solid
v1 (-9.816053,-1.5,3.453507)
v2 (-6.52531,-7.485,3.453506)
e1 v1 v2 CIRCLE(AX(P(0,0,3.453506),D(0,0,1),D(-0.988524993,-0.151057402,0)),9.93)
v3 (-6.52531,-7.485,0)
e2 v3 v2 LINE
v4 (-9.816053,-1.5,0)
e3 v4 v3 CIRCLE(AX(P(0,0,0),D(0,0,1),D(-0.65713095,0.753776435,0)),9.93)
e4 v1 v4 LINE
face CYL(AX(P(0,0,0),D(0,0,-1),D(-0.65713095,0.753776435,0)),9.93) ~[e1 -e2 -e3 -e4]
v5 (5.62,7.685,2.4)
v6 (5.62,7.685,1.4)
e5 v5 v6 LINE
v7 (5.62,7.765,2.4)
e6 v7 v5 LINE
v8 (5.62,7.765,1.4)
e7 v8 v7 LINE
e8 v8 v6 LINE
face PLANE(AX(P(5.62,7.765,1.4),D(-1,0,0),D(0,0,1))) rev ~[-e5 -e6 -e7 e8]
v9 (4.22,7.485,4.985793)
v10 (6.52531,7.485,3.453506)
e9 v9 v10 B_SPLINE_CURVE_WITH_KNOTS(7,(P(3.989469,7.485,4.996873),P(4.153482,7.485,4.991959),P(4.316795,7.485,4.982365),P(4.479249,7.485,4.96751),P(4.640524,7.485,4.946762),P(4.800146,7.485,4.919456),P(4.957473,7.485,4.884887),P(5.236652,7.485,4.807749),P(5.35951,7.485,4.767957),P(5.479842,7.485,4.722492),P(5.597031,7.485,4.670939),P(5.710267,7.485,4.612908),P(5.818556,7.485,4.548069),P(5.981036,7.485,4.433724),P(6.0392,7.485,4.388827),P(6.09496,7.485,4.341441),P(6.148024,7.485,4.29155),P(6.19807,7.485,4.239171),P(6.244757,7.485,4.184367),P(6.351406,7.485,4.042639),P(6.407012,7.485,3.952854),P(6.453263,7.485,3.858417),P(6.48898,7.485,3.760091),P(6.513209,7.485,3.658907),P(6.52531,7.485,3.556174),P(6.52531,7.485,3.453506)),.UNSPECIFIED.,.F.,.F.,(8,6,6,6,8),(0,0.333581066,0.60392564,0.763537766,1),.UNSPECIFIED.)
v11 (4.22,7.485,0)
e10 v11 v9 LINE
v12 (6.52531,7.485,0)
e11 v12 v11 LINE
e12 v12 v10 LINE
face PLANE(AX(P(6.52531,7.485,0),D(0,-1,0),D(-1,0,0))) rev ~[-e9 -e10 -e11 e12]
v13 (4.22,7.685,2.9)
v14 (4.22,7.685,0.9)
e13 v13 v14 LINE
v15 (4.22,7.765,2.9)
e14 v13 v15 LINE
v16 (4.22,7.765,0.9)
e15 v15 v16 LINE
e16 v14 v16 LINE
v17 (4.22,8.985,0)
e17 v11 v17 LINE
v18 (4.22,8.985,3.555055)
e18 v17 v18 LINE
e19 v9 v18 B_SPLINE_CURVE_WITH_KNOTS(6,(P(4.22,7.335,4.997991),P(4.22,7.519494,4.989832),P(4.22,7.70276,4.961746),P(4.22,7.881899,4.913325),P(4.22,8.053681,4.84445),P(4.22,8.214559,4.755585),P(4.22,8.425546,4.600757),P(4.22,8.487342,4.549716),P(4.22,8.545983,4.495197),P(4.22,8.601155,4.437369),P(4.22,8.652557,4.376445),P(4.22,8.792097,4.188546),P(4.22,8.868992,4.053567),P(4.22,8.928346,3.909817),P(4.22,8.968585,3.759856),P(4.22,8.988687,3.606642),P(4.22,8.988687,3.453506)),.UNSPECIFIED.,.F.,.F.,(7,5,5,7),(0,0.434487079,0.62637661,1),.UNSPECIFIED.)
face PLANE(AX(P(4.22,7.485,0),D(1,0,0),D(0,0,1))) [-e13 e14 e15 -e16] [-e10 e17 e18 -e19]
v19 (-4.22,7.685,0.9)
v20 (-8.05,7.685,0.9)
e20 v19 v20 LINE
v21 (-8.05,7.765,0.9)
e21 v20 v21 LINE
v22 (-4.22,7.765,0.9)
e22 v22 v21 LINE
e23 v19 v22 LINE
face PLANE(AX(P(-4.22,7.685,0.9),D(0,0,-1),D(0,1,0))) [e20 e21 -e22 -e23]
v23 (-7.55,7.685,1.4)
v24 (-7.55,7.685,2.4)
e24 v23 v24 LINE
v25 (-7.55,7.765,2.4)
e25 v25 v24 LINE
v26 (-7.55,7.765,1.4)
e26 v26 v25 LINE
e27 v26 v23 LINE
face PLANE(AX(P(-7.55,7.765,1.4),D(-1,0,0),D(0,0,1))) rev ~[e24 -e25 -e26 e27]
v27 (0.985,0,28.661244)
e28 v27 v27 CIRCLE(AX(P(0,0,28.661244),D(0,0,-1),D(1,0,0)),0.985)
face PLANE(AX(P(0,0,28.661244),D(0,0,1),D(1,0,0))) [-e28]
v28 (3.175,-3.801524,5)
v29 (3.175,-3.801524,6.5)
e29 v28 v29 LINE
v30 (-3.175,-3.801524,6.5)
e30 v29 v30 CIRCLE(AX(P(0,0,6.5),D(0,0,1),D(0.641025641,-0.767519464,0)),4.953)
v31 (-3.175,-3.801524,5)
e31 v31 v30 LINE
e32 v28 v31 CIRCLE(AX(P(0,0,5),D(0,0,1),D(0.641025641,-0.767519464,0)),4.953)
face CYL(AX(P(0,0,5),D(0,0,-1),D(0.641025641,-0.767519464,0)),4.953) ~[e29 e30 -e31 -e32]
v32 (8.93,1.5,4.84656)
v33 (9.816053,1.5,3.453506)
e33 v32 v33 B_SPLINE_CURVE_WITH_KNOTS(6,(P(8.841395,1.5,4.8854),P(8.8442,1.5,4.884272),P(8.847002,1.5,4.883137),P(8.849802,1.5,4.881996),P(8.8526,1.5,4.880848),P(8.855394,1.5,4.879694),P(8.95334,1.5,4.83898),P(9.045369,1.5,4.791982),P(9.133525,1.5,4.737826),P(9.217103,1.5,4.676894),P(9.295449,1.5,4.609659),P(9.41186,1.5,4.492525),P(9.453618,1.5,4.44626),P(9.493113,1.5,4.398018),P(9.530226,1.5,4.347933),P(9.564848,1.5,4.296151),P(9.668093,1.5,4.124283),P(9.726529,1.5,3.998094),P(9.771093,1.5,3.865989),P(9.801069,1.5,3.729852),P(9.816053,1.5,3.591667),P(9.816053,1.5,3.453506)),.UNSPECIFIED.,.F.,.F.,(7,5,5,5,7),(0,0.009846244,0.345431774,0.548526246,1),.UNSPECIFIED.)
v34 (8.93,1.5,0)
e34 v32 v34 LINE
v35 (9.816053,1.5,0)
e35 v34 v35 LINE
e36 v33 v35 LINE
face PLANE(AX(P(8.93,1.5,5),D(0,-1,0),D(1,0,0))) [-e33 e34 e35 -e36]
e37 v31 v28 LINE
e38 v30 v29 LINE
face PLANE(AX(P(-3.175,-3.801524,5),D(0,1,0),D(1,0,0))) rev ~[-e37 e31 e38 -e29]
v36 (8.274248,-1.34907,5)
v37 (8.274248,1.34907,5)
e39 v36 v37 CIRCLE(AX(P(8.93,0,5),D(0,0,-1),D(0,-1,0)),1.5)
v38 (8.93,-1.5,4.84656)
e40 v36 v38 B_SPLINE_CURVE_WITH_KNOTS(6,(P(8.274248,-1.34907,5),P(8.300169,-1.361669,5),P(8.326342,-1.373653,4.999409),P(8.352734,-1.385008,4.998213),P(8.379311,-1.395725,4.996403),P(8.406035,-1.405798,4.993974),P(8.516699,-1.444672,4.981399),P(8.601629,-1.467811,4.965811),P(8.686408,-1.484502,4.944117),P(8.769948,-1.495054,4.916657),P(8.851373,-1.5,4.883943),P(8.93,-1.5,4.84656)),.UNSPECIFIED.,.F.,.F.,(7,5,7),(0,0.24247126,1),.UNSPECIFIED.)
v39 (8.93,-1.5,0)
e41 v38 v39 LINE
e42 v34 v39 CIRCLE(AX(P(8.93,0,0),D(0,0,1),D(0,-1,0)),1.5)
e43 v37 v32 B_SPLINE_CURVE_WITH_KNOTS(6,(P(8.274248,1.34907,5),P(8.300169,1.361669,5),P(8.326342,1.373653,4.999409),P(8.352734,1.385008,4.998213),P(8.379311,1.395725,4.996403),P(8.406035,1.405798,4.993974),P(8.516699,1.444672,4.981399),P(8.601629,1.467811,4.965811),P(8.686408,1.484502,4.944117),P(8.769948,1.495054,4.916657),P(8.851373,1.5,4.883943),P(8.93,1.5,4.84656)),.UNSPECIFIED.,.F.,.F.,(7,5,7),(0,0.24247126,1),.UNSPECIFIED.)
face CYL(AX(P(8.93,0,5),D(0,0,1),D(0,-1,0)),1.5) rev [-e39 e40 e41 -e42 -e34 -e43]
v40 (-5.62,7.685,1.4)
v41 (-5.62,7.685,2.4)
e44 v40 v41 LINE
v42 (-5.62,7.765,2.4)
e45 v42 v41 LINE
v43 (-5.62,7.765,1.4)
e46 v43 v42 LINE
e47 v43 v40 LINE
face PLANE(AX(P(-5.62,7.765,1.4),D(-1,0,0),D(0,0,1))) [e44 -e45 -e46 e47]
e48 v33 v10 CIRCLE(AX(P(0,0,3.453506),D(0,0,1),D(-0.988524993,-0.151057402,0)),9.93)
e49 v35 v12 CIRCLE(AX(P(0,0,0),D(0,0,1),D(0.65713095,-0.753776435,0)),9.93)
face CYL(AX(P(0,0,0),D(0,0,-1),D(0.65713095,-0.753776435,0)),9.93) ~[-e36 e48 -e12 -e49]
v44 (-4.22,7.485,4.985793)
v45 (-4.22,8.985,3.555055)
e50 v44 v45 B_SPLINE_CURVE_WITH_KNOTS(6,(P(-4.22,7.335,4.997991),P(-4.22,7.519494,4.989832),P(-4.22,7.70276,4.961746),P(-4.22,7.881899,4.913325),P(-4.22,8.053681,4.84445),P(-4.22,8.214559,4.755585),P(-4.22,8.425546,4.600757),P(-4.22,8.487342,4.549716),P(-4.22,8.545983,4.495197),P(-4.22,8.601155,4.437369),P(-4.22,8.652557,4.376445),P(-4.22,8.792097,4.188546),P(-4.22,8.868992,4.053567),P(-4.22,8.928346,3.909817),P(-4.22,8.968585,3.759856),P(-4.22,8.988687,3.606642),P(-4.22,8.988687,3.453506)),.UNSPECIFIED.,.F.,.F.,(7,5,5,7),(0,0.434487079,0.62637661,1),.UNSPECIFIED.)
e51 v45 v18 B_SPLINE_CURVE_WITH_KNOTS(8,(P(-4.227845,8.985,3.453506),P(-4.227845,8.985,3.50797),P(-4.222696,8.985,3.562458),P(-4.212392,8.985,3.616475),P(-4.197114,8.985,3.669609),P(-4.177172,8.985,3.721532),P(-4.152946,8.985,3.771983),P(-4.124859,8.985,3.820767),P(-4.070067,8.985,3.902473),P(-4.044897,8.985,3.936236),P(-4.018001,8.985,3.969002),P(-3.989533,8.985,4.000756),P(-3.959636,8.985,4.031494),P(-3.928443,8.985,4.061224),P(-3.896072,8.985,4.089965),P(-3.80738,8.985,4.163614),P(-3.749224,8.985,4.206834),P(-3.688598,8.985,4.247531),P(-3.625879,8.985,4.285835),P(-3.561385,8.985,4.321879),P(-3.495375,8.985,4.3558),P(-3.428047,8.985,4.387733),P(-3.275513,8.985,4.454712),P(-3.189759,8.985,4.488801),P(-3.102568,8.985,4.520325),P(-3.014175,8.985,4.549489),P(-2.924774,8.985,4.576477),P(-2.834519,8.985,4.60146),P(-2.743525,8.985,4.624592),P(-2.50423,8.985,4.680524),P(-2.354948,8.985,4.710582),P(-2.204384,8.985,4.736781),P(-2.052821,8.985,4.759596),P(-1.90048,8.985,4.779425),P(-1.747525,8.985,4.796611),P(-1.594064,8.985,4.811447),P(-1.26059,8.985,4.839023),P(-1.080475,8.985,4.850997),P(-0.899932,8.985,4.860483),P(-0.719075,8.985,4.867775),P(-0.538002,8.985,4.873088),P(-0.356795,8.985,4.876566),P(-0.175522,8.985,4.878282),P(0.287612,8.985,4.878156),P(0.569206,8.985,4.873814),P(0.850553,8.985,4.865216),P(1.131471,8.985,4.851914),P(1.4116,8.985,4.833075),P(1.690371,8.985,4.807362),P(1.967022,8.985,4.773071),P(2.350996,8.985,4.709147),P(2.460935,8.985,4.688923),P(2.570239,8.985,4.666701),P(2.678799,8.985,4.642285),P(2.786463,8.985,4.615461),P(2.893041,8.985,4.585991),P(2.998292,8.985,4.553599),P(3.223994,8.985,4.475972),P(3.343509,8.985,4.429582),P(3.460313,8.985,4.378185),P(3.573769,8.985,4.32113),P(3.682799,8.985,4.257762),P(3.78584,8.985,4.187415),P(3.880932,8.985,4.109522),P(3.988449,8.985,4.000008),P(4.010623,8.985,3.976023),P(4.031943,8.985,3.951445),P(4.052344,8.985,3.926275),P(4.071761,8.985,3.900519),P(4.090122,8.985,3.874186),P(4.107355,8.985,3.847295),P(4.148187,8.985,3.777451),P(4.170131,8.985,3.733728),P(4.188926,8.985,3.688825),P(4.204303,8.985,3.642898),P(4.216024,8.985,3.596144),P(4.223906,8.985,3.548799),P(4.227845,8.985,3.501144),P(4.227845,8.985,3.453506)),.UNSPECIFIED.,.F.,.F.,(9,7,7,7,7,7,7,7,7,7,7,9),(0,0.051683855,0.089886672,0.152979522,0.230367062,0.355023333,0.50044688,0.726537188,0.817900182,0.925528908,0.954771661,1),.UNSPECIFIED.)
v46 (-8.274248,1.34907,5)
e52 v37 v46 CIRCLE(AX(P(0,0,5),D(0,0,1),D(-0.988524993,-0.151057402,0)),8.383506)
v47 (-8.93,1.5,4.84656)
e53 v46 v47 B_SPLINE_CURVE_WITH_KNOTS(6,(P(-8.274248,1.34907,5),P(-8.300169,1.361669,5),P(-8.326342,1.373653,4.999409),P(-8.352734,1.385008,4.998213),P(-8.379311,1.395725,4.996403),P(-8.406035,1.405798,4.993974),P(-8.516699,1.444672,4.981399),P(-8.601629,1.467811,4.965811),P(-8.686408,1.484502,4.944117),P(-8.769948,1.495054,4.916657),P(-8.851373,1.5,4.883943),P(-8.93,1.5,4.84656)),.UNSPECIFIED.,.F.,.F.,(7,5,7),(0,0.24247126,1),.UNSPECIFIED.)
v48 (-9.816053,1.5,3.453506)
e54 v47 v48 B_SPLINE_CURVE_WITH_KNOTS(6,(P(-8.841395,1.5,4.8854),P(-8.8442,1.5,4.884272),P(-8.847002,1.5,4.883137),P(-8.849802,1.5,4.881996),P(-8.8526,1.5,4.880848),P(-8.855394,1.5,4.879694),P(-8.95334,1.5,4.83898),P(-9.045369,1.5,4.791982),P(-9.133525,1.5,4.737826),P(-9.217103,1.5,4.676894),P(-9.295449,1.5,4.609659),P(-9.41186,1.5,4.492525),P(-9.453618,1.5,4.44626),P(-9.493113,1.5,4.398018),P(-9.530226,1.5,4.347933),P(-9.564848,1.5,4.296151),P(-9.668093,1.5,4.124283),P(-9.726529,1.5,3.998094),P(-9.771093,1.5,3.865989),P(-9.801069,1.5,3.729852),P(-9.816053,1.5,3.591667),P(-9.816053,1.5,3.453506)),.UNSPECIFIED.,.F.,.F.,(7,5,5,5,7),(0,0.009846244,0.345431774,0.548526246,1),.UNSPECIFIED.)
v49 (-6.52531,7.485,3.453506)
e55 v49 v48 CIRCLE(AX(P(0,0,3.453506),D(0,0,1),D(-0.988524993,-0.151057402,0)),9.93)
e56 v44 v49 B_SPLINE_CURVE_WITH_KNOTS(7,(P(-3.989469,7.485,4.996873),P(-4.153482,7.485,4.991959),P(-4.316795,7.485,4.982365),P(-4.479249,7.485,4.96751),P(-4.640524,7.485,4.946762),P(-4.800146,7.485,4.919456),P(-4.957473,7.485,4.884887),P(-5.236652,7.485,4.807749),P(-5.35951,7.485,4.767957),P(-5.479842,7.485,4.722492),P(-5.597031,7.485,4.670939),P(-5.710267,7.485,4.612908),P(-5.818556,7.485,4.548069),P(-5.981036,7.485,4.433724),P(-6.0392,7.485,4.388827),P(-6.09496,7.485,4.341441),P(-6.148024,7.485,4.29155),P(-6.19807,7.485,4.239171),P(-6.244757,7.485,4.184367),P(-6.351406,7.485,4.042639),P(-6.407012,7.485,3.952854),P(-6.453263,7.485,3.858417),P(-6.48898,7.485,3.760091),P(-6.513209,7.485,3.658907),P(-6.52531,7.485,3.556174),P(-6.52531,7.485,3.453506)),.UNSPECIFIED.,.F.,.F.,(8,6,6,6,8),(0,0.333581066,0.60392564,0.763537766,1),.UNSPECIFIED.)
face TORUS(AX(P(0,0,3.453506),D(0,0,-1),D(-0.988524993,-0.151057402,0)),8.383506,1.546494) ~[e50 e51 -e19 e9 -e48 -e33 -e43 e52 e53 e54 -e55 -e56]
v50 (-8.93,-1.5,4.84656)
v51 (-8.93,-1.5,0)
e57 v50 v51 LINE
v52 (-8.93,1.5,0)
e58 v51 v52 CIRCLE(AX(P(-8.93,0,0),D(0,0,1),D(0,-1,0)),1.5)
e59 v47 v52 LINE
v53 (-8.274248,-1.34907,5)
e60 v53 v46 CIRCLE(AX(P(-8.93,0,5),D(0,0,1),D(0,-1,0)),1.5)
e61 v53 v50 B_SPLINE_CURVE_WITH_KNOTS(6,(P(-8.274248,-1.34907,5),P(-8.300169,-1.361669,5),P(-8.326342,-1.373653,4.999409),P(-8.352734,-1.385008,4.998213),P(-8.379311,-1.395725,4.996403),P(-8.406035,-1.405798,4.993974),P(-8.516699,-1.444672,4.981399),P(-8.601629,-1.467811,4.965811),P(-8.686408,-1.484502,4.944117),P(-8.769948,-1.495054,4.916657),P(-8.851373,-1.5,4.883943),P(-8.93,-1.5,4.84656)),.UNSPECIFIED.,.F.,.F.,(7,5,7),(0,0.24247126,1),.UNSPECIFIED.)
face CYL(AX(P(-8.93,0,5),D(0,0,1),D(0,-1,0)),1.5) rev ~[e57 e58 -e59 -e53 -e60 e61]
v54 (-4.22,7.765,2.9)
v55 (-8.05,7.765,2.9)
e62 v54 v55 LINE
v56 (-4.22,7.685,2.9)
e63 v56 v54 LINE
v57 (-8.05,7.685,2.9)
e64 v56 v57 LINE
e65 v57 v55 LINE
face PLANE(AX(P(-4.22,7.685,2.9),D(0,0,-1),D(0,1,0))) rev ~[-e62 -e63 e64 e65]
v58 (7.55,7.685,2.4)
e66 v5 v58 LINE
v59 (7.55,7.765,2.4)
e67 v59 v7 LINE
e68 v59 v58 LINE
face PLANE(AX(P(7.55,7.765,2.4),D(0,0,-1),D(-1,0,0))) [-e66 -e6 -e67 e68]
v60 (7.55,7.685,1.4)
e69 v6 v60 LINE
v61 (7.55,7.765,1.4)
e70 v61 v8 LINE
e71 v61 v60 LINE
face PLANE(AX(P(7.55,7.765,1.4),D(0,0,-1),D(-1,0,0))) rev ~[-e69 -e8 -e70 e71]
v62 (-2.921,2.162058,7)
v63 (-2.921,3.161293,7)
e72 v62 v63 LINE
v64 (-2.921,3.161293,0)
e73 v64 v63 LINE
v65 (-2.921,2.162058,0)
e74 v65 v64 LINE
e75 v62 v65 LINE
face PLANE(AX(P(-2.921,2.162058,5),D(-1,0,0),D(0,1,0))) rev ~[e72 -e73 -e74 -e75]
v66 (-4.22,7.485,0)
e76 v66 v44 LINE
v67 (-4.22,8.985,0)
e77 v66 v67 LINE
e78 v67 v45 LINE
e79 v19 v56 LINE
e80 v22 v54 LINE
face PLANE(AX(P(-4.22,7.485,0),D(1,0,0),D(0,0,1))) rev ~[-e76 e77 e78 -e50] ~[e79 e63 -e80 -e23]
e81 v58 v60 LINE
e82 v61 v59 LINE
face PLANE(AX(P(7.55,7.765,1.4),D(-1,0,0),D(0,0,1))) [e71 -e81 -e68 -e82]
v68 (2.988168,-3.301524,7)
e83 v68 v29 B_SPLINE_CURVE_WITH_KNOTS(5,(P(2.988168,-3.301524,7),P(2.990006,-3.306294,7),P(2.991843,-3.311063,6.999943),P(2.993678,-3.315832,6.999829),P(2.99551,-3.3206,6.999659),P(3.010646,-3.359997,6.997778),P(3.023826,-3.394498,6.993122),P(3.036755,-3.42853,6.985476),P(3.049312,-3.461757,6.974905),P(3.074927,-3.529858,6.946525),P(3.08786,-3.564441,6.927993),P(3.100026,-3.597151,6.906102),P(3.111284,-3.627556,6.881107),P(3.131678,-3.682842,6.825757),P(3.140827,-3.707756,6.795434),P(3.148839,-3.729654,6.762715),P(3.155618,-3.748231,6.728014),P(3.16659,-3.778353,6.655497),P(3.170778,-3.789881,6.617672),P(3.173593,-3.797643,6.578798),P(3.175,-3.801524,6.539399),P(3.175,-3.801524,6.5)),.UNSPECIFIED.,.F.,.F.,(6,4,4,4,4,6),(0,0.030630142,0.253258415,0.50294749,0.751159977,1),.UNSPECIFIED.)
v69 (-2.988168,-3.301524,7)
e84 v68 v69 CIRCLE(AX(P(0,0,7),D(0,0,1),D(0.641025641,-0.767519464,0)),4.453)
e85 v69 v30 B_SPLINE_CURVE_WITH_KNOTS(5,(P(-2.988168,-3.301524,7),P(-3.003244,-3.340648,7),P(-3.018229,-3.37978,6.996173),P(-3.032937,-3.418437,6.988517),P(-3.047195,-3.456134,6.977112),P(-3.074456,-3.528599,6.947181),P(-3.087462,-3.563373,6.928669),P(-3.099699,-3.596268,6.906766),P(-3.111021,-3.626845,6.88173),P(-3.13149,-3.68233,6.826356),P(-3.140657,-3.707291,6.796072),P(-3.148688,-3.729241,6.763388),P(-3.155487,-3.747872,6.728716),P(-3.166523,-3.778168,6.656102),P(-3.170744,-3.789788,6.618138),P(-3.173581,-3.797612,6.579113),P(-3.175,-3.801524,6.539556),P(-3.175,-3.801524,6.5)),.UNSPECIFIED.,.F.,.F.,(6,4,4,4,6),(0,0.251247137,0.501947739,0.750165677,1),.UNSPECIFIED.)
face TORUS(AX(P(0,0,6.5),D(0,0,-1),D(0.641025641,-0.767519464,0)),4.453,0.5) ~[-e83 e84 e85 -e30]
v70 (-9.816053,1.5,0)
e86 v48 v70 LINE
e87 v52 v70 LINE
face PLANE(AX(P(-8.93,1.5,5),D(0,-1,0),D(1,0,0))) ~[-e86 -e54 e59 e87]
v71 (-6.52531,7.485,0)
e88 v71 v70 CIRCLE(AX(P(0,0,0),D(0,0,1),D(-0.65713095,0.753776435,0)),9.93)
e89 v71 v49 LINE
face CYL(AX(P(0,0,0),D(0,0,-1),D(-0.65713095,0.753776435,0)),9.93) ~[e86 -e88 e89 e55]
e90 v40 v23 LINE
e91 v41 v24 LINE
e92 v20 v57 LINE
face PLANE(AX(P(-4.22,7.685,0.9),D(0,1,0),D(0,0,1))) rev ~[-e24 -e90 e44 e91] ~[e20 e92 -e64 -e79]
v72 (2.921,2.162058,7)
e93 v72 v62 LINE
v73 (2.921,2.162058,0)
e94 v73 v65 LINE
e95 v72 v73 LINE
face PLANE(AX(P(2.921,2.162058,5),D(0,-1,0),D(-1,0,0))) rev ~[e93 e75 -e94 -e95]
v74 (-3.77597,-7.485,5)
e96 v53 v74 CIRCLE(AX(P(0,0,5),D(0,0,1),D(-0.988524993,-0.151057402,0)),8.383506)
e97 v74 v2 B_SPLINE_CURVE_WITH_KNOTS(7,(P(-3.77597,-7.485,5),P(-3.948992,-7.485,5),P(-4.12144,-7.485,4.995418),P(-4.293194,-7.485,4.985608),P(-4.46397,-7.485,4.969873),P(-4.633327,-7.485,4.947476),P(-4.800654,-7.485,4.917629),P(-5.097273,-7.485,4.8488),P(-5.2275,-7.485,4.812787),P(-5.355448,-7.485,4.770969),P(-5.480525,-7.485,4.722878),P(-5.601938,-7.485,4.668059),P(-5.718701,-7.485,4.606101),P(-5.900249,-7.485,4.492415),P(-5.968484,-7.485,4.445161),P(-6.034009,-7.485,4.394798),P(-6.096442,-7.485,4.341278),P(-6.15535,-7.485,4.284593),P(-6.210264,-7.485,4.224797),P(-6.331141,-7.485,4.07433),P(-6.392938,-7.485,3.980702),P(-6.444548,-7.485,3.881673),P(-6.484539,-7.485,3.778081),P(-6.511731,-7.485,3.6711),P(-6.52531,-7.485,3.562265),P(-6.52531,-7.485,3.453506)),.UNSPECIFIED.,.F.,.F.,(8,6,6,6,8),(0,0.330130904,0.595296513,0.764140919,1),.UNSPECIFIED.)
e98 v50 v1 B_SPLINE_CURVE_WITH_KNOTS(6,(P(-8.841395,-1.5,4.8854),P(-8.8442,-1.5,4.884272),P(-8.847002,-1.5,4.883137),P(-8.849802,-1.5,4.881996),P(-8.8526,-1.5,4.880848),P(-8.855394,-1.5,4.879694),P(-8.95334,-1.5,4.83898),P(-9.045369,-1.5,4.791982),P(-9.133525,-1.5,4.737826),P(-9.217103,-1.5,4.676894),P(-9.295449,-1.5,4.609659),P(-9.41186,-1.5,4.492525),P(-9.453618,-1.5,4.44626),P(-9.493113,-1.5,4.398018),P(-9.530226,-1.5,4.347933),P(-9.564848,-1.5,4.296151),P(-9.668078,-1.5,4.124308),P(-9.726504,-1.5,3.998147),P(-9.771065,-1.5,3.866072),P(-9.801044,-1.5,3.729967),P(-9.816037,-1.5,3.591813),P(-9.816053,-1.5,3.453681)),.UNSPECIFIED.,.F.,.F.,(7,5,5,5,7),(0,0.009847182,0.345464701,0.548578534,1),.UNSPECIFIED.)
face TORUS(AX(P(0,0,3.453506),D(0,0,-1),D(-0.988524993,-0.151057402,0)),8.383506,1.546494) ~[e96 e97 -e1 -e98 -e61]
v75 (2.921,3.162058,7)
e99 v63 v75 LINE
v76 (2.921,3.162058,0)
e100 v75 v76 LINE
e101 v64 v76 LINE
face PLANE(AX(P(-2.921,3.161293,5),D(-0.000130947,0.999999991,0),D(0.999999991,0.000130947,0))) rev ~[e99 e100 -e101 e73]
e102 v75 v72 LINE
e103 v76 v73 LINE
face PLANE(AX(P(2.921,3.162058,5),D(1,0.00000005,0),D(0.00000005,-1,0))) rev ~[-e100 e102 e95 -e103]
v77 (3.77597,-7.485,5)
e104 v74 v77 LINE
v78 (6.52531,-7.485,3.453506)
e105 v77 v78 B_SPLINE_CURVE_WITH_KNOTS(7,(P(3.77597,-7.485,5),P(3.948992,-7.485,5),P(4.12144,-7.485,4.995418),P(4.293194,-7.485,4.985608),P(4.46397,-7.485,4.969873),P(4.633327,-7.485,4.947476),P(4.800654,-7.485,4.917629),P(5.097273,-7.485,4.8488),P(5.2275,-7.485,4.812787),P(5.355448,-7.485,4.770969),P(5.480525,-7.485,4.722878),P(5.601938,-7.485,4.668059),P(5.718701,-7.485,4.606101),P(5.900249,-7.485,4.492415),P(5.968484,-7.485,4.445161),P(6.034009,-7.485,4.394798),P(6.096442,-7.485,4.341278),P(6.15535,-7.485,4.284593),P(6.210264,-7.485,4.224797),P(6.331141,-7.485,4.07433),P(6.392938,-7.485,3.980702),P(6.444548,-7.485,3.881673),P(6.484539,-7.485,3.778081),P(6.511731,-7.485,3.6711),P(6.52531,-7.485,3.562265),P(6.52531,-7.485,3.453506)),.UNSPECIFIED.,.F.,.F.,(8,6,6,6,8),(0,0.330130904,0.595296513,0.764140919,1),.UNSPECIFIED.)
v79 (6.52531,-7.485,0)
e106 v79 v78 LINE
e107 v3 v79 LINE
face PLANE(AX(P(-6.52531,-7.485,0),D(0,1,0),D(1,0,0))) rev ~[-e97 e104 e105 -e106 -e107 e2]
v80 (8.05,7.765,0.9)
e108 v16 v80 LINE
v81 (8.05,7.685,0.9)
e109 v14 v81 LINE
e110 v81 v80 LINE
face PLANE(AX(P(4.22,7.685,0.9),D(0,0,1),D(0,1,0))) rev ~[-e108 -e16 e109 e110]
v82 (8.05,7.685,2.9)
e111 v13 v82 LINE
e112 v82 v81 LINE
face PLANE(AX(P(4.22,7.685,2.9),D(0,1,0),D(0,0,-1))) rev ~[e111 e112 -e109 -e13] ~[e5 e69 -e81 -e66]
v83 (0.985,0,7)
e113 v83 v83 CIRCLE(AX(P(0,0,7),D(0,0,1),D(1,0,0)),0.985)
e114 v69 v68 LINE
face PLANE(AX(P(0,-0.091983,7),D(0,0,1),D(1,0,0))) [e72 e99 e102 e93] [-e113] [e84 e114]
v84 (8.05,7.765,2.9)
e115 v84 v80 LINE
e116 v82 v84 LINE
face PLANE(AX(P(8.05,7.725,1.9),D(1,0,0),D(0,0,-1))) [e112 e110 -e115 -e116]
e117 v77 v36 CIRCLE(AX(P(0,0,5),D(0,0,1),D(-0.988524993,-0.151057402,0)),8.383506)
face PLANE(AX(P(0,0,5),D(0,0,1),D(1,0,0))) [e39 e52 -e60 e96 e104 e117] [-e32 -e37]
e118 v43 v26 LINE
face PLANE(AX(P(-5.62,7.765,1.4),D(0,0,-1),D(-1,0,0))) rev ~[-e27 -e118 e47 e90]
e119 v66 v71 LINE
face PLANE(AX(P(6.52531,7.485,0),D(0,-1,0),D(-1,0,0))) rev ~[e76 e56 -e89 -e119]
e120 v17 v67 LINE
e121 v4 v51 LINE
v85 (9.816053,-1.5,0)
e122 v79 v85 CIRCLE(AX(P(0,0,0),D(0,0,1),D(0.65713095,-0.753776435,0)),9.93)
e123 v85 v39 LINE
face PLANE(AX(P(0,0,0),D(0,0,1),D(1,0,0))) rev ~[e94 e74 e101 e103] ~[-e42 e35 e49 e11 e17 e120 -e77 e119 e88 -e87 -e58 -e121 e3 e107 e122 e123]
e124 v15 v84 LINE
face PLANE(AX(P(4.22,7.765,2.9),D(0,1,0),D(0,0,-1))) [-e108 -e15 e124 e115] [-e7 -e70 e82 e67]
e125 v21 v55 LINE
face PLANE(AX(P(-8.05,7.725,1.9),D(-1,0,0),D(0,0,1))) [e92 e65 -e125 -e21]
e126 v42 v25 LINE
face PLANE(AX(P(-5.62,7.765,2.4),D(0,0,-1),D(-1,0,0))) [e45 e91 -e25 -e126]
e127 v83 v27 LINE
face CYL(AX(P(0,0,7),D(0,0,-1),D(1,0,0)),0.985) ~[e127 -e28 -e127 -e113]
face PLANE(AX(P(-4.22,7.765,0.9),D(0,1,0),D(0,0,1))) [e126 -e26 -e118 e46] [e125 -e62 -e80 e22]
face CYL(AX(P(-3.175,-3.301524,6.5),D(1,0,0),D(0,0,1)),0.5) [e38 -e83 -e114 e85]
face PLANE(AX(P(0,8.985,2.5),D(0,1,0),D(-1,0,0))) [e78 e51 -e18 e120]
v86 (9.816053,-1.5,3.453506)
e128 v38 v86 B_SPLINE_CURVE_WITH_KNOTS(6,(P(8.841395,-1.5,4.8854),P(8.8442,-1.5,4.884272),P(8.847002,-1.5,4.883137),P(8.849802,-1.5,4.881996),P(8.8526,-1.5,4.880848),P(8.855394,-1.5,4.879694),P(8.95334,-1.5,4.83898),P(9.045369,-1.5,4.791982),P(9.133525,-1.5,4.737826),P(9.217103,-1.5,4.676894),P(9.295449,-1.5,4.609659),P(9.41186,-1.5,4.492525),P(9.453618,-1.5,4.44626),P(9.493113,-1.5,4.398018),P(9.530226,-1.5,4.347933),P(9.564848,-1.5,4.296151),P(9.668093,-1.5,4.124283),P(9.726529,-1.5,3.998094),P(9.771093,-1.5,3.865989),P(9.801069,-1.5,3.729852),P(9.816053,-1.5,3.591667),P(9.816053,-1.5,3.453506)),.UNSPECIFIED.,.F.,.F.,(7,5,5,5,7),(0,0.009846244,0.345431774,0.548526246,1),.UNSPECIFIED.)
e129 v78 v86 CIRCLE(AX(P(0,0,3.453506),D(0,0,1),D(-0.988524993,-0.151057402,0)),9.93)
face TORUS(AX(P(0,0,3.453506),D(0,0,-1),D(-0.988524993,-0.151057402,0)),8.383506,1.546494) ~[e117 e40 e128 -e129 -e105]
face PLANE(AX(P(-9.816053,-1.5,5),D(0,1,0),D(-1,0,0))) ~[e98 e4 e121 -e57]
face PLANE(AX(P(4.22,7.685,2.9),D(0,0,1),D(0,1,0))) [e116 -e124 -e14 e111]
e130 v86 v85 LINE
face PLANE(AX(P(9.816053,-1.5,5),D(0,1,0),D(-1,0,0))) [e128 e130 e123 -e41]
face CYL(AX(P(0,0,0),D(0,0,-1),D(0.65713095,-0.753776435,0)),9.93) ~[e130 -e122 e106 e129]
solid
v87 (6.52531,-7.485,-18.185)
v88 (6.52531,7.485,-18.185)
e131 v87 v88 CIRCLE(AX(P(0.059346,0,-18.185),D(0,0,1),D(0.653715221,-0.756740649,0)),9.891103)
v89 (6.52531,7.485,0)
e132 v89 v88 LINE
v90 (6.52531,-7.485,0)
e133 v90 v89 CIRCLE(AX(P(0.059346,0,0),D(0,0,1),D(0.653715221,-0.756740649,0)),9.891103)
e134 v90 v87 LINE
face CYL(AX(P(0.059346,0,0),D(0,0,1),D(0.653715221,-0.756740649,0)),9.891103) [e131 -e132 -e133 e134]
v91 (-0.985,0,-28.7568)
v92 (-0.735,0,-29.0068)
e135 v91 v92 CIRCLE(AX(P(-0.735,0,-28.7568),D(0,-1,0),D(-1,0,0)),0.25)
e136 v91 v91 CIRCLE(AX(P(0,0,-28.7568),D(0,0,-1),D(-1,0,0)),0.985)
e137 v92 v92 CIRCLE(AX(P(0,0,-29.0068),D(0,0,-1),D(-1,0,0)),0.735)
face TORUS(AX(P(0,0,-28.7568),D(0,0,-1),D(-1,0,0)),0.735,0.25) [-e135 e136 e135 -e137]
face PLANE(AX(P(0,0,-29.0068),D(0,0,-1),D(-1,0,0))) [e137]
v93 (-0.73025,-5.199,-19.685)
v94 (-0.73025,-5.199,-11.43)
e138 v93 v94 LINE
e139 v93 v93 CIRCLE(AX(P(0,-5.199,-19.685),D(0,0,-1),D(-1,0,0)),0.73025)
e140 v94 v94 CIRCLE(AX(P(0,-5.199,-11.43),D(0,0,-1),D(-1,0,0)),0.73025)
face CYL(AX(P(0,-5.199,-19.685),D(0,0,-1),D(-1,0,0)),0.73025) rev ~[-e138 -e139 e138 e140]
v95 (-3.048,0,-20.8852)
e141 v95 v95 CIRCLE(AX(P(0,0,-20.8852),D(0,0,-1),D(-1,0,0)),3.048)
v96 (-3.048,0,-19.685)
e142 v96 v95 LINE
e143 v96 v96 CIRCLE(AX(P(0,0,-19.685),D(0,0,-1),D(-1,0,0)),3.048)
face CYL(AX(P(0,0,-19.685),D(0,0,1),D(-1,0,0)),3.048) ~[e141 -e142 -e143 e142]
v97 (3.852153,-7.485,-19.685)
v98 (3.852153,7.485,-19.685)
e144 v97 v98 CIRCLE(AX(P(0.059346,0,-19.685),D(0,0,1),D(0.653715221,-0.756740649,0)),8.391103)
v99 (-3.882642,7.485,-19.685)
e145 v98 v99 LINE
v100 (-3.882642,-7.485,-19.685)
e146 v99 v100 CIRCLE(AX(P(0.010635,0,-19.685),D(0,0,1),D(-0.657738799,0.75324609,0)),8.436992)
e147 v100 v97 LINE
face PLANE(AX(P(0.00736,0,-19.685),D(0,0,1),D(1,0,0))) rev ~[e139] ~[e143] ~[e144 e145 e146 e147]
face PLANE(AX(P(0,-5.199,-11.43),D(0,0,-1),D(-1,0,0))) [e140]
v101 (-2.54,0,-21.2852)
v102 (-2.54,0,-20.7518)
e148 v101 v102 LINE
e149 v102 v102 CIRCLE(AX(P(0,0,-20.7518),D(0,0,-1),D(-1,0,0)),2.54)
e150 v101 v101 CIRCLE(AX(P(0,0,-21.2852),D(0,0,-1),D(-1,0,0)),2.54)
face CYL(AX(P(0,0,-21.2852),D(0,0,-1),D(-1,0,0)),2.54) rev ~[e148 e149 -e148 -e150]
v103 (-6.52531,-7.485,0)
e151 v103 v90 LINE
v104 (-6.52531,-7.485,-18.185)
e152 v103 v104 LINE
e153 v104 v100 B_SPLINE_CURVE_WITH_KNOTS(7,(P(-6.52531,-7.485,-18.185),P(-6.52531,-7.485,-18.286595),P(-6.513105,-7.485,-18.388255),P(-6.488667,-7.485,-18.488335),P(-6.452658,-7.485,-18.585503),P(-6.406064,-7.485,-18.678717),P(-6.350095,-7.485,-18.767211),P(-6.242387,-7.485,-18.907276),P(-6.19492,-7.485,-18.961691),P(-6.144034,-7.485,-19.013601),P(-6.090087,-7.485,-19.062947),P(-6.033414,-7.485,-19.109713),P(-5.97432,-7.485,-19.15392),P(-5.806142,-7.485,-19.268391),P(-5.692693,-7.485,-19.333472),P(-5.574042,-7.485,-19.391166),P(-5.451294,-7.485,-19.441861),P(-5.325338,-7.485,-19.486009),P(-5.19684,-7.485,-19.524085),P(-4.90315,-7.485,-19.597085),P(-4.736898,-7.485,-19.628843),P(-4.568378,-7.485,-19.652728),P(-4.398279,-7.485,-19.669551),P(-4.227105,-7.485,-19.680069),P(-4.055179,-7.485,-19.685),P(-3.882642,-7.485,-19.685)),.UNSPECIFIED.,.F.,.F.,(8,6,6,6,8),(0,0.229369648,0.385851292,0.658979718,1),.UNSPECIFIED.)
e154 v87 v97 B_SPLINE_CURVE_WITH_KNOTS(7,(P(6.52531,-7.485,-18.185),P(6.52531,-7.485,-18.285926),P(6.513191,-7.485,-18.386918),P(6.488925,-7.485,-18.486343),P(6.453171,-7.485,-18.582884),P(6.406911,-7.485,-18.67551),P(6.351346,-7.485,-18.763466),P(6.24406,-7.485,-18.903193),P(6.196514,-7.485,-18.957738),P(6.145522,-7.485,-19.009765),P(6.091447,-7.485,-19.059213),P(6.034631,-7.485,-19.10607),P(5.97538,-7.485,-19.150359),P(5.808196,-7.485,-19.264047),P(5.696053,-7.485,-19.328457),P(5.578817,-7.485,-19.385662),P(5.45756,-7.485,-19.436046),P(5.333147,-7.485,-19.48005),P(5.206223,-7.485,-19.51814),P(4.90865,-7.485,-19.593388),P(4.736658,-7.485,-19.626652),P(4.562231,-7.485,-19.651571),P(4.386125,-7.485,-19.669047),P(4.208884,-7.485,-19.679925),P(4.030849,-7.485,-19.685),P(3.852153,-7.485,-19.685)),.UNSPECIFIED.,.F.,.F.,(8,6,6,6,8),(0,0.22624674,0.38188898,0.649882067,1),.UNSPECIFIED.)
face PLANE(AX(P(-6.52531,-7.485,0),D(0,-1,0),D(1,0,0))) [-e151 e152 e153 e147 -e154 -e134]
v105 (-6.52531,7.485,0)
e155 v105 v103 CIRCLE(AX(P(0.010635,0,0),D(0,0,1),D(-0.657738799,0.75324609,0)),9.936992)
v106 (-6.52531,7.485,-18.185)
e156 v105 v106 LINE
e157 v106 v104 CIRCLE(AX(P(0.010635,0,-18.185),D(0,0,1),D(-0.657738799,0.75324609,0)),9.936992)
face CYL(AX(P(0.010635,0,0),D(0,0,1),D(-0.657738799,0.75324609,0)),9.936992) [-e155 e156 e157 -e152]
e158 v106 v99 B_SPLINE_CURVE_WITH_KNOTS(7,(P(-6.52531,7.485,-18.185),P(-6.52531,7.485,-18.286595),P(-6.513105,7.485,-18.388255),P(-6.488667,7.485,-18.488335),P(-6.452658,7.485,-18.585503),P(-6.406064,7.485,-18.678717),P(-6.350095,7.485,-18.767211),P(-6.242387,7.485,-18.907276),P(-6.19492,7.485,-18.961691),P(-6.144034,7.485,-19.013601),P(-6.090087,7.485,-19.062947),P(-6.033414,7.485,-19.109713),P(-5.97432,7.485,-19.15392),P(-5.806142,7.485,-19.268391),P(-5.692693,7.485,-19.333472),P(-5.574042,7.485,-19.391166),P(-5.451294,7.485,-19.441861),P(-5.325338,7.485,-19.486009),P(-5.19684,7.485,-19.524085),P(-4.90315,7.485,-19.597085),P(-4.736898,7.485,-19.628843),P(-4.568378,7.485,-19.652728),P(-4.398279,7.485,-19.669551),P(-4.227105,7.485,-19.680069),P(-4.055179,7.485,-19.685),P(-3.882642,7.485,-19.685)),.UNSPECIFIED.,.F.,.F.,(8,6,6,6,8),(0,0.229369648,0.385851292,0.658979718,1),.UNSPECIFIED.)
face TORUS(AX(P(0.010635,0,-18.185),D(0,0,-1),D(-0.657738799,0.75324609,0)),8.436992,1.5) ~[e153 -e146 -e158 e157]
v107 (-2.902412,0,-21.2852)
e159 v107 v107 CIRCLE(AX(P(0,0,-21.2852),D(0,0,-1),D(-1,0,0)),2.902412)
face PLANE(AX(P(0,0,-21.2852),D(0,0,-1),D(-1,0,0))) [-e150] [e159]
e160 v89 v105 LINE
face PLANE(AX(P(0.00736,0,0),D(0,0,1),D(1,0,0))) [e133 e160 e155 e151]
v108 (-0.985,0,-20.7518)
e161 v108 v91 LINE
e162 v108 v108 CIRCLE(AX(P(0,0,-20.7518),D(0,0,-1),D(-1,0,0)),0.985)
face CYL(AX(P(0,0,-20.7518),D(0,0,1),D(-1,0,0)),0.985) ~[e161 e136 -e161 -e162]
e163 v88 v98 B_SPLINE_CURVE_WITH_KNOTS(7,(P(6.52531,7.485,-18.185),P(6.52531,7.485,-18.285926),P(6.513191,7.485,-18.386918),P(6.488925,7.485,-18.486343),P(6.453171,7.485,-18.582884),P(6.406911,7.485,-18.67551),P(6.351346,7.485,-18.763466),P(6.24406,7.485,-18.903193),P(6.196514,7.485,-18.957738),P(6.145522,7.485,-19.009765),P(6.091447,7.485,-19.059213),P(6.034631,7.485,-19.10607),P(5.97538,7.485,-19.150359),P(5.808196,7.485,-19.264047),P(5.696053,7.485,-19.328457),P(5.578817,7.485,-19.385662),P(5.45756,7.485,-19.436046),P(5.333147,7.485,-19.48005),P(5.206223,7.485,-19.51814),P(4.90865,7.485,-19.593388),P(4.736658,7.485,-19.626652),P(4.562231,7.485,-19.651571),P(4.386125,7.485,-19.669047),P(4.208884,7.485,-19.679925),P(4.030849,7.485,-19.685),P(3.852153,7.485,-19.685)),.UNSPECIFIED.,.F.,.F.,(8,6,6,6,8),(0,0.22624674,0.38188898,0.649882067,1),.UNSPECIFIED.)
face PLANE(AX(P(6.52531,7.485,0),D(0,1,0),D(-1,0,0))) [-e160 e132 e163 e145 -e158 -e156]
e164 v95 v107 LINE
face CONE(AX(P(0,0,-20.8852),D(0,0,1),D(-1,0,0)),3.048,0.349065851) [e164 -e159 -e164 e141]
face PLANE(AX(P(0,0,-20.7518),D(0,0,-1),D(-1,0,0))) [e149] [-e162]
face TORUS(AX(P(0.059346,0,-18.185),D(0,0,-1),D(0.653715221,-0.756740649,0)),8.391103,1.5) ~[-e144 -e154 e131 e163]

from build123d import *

# Parameters (mm, degrees)
EXTRUDE1_DEPTH          = 5
EXTRUDE2_DEPTH          = 2
SKETCH5_R               = 0.985
EXTRUDE3_DEPTH          = 25
FILLET1_R               = 0.25
FILLET2_R               = 0.5
CUT_EXTRUDE2_DEPTH      = 6
SKETCH7_W               = 8.44
SKETCH7_H               = 5
EXTRUDE4_DEPTH          = 1.5
SKETCH9_W               = 2
SKETCH9_H               = 0.08
EXTRUDE5_DEPTH          = 3.83
CUT_EXTRUDE4_REACH      = 17.25
SKETCH10_W              = 1.93
SKETCH10_H              = 1
SKETCH21_W              = 2
SKETCH21_H              = 0.08
EXTRUDE6_DEPTH          = 3.83
SKETCH22_W              = 1.93
SKETCH22_H              = 1
CUT_EXTRUDE5_DEPTH      = 0.09
EXTRUDE7_DEPTH          = 19.685
FILLET6_R               = 1.5
SKETCH26_R              = 3.048
EXTRUDE9_DEPTH          = 1.6002
SKETCH27_R              = 2.54
CUT_EXTRUDE6_DEPTH      = 0.5334
CHAMFER1_SIZE           = 0.4
CHAMFER1_SIZE2          = 0.145588094
SKETCH29_R              = 0.985
EXTRUDE10_DEPTH         = 8.255
FILLET7_R               = 0.25
SKETCH30_R              = 0.73025
CUT_EXTRUDE7_DEPTH      = 8.255
CUT_EXTRUDE9_DEPTH      = 2
CUT_EXTRUDE9_DEPTH_BACK = 5
SKETCH31_R              = 2.701313407
CUT_EXTRUDE10_DEPTH     = 2.275338
SKETCH32_R              = 2.019963582
CUT_EXTRUDE11_DEPTH     = 1.063418


with BuildPart() as part:
    # Sketch1 → Extrude1 (new body)
    with BuildSketch(Plane.XY):
        with BuildLine():
            Line((-6.525310337, -7.485), (6.525310337, -7.485))
            ThreePointArc((6.525310337, -7.485), (9.93, 0), (6.525310337, 7.485))
            Line((6.525310337, 7.485), (-6.525310337, 7.485))
            ThreePointArc((-6.525310337, 7.485), (-9.93, 0), (-6.525310337, -7.485))
        make_face()
    extrude(amount=EXTRUDE1_DEPTH)

    # Sketch2 → Extrude2 (add)
    with BuildSketch(Plane.XY.offset(5)):
        with BuildLine():
            Line((-3.175, -3.801523905), (3.175, -3.801523905))
            ThreePointArc((3.175, -3.801523905), (0, 4.953), (-3.175, -3.801523905))
        make_face()
    extrude(amount=EXTRUDE2_DEPTH)

    # Sketch5 → Extrude3 (add)
    with BuildSketch(Plane.XY.offset(7)):
        Circle(SKETCH5_R)
    extrude(amount=EXTRUDE3_DEPTH)

    # Fillet1
    fillet1_edges = [part.edges().sort_by_distance(p)[0] for p in [
        (-0.985, 0, 32),
    ]]
    fillet(fillet1_edges, radius=FILLET1_R)

    # Fillet2
    fillet2_edges = [part.edges().sort_by_distance(p)[0] for p in [
        (0, 4.953, 7),
        (0, -3.801523905, 7),
    ]]
    fillet(fillet2_edges, radius=FILLET2_R)

    # Sketch6 → Cut-Extrude2 (cut, through all)
    with BuildSketch(Plane.XY.offset(5)):
        with BuildLine():
            Line((8.93, 1.5), (9.816053178, 1.5))
            ThreePointArc((9.816053178, 1.5), (9.93, 0), (9.816053178, -1.5))
            Line((9.816053178, -1.5), (8.93, -1.5))
            ThreePointArc((8.93, -1.5), (7.43, 0), (8.93, 1.5))
        make_face()
    cut_extrude2 = extrude(amount=-CUT_EXTRUDE2_DEPTH, mode=Mode.SUBTRACT)

    # Mirror1: Cut-Extrude2 across plane
    add(cut_extrude2.mirror(Plane(origin=(0, 0, 0), x_dir=(0, 0, 1), z_dir=(1, 0, 0))), mode=Mode.SUBTRACT)

    # Sketch7 → Extrude4 (add)
    with BuildSketch(Plane(origin=(0, 7.485, 0), x_dir=(-1, 0, 0), z_dir=(0, 1, 0))):
        with Locations((0, 2.5)):
            Rectangle(SKETCH7_W, SKETCH7_H)
    extrude(amount=EXTRUDE4_DEPTH)

    # Sketch8 → Cut-Revolve1 (revolve, cut)
    with BuildSketch(Plane(origin=(0, 0, 0), x_dir=(-0.988524993, -0.151057402, 0), z_dir=(-0.151057402, 0.988524993, 0))):
        with BuildLine():
            Line((9.93, 3.453506144), (12.335658501, 3.453506144))
            Line((12.335658501, 3.453506144), (12.335658501, 5.727879127))
            Line((12.335658501, 5.727879127), (8.383506144, 5.727879127))
            Line((8.383506144, 5.727879127), (8.383506144, 5))
            ThreePointArc((8.383506144, 5), (9.477042437, 4.547042437), (9.93, 3.453506144))
        make_face()
    revolve(axis=Axis((0, 0, 0), (0, 0, 1)), mode=Mode.SUBTRACT)

    # Sketch9 → Extrude5 (add)
    with BuildSketch(Plane(origin=(4.22, 0, 0), x_dir=(0, 0, -1), z_dir=(1, 0, 0))):
        with Locations((-1.9, 7.725)):
            Rectangle(SKETCH9_W, SKETCH9_H)
    extrude(amount=EXTRUDE5_DEPTH)

    # Sketch10 → Cut-Extrude4 (cut, up to next)
    with BuildSketch(Plane(origin=(0, 7.765, 0), x_dir=(-1, 0, 0), z_dir=(0, 1, 0)), mode=Mode.PRIVATE) as cut_extrude4_sk1:
        with Locations((-6.585, 1.9)):
            Rectangle(SKETCH10_W, SKETCH10_H)
    cut_extrude4_tool1 = extrude(cut_extrude4_sk1.sketch, amount=-CUT_EXTRUDE4_REACH, mode=Mode.PRIVATE) & part.part
    add(cut_extrude4_tool1.solids().sort_by_distance((6.585, 7.765, 1.9))[0], mode=Mode.SUBTRACT)

    # Sketch21 → Extrude6 (add)
    with BuildSketch(Plane.ZY.offset(4.22)):
        with Locations((1.9, 7.725)):
            Rectangle(SKETCH21_W, SKETCH21_H)
    extrude(amount=EXTRUDE6_DEPTH)

    # Sketch22 → Cut-Extrude5 (cut)
    with BuildSketch(Plane(origin=(0, 7.765, 0), x_dir=(-1, 0, 0), z_dir=(0, 1, 0))):
        with Locations((6.585, 1.9)):
            Rectangle(SKETCH22_W, SKETCH22_H)
    extrude(amount=-CUT_EXTRUDE5_DEPTH, mode=Mode.SUBTRACT)

    # Sketch4 → Cut-Extrude9 (cut, two sides)
    with BuildSketch(Plane.XY.offset(5)) as cut_extrude9_sk:
        Polygon((-2.921, 3.161292816), (2.92099995, 3.16205781), (2.921, 2.16205781), (-2.921, 2.16205781), align=None)
    extrude(amount=CUT_EXTRUDE9_DEPTH, mode=Mode.SUBTRACT)
    extrude(cut_extrude9_sk.sketch, amount=-CUT_EXTRUDE9_DEPTH_BACK, mode=Mode.SUBTRACT)

    # Sketch31 → Cut-Extrude10 (cut)
    with BuildSketch(Plane.XY.offset(32)):
        Circle(SKETCH31_R)
    extrude(amount=-CUT_EXTRUDE10_DEPTH, mode=Mode.SUBTRACT)

    # Sketch32 → Cut-Extrude11 (cut)
    with BuildSketch(Plane.XY.offset(29.724661786)):
        Circle(SKETCH32_R)
    extrude(amount=-CUT_EXTRUDE11_DEPTH, mode=Mode.SUBTRACT)


with BuildPart() as body_2:
    # Sketch23 → Extrude7 (new body)
    with BuildSketch(Plane(origin=(0, 0, 0), x_dir=(-1, 0, 0), z_dir=(0, 0, -1))):
        with BuildLine():
            Line((-6.525310337, 7.485), (6.525310337, 7.485))
            ThreePointArc((6.525310337, 7.485), (9.926356983, 0), (6.525310337, -7.485))
            Line((6.525310337, -7.485), (-6.525310337, -7.485))
            ThreePointArc((-6.525310337, -7.485), (-9.950448891, 0), (-6.525310337, 7.485))
        make_face()
    extrude(amount=EXTRUDE7_DEPTH)

    # Fillet6
    fillet6_edges = [body_2.edges().sort_by_distance(p)[0] for p in [
        (9.950448891, 0, -19.685),
        (-9.926356983, 0, -19.685),
    ]]
    fillet(fillet6_edges, radius=FILLET6_R)

    # Sketch26 → Extrude9 (add)
    with BuildSketch(Plane(origin=(0, 0, -19.685), x_dir=(-1, 0, 0), z_dir=(0, 0, -1))):
        Circle(SKETCH26_R)
    extrude(amount=EXTRUDE9_DEPTH)

    # Sketch27 → Cut-Extrude6 (cut)
    with BuildSketch(Plane(origin=(0, 0, -21.2852), x_dir=(-1, 0, 0), z_dir=(0, 0, -1))):
        Circle(SKETCH27_R)
    extrude(amount=-CUT_EXTRUDE6_DEPTH, mode=Mode.SUBTRACT)

    # Chamfer1
    chamfer1_edges = [body_2.edges().sort_by_distance(p)[0] for p in [
        (3.048, 0, -21.2852),
    ]]
    chamfer1_side = [body_2.faces().sort_by_distance(p)[0] for p in [
        (3.048, 0, -20.4851),
    ]]
    chamfer(chamfer1_edges, length=CHAMFER1_SIZE, length2=CHAMFER1_SIZE2, reference=chamfer1_side[0])

    # Sketch29 → Extrude10 (add)
    with BuildSketch(Plane(origin=(0, 0, -20.7518), x_dir=(-1, 0, 0), z_dir=(0, 0, -1))):
        Circle(SKETCH29_R)
    extrude(amount=EXTRUDE10_DEPTH)

    # Fillet7
    fillet7_edges = [body_2.edges().sort_by_distance(p)[0] for p in [
        (0.985, 0, -29.0068),
    ]]
    fillet(fillet7_edges, radius=FILLET7_R)

    # Sketch30 → Cut-Extrude7 (cut)
    with BuildSketch(Plane(origin=(0, 0, -19.685), x_dir=(-1, 0, 0), z_dir=(0, 0, -1))):
        with Locations((0, -5.199)):
            Circle(SKETCH30_R)
    extrude(amount=-CUT_EXTRUDE7_DEPTH, mode=Mode.SUBTRACT)


solid = Compound([part.part, body_2.part])
